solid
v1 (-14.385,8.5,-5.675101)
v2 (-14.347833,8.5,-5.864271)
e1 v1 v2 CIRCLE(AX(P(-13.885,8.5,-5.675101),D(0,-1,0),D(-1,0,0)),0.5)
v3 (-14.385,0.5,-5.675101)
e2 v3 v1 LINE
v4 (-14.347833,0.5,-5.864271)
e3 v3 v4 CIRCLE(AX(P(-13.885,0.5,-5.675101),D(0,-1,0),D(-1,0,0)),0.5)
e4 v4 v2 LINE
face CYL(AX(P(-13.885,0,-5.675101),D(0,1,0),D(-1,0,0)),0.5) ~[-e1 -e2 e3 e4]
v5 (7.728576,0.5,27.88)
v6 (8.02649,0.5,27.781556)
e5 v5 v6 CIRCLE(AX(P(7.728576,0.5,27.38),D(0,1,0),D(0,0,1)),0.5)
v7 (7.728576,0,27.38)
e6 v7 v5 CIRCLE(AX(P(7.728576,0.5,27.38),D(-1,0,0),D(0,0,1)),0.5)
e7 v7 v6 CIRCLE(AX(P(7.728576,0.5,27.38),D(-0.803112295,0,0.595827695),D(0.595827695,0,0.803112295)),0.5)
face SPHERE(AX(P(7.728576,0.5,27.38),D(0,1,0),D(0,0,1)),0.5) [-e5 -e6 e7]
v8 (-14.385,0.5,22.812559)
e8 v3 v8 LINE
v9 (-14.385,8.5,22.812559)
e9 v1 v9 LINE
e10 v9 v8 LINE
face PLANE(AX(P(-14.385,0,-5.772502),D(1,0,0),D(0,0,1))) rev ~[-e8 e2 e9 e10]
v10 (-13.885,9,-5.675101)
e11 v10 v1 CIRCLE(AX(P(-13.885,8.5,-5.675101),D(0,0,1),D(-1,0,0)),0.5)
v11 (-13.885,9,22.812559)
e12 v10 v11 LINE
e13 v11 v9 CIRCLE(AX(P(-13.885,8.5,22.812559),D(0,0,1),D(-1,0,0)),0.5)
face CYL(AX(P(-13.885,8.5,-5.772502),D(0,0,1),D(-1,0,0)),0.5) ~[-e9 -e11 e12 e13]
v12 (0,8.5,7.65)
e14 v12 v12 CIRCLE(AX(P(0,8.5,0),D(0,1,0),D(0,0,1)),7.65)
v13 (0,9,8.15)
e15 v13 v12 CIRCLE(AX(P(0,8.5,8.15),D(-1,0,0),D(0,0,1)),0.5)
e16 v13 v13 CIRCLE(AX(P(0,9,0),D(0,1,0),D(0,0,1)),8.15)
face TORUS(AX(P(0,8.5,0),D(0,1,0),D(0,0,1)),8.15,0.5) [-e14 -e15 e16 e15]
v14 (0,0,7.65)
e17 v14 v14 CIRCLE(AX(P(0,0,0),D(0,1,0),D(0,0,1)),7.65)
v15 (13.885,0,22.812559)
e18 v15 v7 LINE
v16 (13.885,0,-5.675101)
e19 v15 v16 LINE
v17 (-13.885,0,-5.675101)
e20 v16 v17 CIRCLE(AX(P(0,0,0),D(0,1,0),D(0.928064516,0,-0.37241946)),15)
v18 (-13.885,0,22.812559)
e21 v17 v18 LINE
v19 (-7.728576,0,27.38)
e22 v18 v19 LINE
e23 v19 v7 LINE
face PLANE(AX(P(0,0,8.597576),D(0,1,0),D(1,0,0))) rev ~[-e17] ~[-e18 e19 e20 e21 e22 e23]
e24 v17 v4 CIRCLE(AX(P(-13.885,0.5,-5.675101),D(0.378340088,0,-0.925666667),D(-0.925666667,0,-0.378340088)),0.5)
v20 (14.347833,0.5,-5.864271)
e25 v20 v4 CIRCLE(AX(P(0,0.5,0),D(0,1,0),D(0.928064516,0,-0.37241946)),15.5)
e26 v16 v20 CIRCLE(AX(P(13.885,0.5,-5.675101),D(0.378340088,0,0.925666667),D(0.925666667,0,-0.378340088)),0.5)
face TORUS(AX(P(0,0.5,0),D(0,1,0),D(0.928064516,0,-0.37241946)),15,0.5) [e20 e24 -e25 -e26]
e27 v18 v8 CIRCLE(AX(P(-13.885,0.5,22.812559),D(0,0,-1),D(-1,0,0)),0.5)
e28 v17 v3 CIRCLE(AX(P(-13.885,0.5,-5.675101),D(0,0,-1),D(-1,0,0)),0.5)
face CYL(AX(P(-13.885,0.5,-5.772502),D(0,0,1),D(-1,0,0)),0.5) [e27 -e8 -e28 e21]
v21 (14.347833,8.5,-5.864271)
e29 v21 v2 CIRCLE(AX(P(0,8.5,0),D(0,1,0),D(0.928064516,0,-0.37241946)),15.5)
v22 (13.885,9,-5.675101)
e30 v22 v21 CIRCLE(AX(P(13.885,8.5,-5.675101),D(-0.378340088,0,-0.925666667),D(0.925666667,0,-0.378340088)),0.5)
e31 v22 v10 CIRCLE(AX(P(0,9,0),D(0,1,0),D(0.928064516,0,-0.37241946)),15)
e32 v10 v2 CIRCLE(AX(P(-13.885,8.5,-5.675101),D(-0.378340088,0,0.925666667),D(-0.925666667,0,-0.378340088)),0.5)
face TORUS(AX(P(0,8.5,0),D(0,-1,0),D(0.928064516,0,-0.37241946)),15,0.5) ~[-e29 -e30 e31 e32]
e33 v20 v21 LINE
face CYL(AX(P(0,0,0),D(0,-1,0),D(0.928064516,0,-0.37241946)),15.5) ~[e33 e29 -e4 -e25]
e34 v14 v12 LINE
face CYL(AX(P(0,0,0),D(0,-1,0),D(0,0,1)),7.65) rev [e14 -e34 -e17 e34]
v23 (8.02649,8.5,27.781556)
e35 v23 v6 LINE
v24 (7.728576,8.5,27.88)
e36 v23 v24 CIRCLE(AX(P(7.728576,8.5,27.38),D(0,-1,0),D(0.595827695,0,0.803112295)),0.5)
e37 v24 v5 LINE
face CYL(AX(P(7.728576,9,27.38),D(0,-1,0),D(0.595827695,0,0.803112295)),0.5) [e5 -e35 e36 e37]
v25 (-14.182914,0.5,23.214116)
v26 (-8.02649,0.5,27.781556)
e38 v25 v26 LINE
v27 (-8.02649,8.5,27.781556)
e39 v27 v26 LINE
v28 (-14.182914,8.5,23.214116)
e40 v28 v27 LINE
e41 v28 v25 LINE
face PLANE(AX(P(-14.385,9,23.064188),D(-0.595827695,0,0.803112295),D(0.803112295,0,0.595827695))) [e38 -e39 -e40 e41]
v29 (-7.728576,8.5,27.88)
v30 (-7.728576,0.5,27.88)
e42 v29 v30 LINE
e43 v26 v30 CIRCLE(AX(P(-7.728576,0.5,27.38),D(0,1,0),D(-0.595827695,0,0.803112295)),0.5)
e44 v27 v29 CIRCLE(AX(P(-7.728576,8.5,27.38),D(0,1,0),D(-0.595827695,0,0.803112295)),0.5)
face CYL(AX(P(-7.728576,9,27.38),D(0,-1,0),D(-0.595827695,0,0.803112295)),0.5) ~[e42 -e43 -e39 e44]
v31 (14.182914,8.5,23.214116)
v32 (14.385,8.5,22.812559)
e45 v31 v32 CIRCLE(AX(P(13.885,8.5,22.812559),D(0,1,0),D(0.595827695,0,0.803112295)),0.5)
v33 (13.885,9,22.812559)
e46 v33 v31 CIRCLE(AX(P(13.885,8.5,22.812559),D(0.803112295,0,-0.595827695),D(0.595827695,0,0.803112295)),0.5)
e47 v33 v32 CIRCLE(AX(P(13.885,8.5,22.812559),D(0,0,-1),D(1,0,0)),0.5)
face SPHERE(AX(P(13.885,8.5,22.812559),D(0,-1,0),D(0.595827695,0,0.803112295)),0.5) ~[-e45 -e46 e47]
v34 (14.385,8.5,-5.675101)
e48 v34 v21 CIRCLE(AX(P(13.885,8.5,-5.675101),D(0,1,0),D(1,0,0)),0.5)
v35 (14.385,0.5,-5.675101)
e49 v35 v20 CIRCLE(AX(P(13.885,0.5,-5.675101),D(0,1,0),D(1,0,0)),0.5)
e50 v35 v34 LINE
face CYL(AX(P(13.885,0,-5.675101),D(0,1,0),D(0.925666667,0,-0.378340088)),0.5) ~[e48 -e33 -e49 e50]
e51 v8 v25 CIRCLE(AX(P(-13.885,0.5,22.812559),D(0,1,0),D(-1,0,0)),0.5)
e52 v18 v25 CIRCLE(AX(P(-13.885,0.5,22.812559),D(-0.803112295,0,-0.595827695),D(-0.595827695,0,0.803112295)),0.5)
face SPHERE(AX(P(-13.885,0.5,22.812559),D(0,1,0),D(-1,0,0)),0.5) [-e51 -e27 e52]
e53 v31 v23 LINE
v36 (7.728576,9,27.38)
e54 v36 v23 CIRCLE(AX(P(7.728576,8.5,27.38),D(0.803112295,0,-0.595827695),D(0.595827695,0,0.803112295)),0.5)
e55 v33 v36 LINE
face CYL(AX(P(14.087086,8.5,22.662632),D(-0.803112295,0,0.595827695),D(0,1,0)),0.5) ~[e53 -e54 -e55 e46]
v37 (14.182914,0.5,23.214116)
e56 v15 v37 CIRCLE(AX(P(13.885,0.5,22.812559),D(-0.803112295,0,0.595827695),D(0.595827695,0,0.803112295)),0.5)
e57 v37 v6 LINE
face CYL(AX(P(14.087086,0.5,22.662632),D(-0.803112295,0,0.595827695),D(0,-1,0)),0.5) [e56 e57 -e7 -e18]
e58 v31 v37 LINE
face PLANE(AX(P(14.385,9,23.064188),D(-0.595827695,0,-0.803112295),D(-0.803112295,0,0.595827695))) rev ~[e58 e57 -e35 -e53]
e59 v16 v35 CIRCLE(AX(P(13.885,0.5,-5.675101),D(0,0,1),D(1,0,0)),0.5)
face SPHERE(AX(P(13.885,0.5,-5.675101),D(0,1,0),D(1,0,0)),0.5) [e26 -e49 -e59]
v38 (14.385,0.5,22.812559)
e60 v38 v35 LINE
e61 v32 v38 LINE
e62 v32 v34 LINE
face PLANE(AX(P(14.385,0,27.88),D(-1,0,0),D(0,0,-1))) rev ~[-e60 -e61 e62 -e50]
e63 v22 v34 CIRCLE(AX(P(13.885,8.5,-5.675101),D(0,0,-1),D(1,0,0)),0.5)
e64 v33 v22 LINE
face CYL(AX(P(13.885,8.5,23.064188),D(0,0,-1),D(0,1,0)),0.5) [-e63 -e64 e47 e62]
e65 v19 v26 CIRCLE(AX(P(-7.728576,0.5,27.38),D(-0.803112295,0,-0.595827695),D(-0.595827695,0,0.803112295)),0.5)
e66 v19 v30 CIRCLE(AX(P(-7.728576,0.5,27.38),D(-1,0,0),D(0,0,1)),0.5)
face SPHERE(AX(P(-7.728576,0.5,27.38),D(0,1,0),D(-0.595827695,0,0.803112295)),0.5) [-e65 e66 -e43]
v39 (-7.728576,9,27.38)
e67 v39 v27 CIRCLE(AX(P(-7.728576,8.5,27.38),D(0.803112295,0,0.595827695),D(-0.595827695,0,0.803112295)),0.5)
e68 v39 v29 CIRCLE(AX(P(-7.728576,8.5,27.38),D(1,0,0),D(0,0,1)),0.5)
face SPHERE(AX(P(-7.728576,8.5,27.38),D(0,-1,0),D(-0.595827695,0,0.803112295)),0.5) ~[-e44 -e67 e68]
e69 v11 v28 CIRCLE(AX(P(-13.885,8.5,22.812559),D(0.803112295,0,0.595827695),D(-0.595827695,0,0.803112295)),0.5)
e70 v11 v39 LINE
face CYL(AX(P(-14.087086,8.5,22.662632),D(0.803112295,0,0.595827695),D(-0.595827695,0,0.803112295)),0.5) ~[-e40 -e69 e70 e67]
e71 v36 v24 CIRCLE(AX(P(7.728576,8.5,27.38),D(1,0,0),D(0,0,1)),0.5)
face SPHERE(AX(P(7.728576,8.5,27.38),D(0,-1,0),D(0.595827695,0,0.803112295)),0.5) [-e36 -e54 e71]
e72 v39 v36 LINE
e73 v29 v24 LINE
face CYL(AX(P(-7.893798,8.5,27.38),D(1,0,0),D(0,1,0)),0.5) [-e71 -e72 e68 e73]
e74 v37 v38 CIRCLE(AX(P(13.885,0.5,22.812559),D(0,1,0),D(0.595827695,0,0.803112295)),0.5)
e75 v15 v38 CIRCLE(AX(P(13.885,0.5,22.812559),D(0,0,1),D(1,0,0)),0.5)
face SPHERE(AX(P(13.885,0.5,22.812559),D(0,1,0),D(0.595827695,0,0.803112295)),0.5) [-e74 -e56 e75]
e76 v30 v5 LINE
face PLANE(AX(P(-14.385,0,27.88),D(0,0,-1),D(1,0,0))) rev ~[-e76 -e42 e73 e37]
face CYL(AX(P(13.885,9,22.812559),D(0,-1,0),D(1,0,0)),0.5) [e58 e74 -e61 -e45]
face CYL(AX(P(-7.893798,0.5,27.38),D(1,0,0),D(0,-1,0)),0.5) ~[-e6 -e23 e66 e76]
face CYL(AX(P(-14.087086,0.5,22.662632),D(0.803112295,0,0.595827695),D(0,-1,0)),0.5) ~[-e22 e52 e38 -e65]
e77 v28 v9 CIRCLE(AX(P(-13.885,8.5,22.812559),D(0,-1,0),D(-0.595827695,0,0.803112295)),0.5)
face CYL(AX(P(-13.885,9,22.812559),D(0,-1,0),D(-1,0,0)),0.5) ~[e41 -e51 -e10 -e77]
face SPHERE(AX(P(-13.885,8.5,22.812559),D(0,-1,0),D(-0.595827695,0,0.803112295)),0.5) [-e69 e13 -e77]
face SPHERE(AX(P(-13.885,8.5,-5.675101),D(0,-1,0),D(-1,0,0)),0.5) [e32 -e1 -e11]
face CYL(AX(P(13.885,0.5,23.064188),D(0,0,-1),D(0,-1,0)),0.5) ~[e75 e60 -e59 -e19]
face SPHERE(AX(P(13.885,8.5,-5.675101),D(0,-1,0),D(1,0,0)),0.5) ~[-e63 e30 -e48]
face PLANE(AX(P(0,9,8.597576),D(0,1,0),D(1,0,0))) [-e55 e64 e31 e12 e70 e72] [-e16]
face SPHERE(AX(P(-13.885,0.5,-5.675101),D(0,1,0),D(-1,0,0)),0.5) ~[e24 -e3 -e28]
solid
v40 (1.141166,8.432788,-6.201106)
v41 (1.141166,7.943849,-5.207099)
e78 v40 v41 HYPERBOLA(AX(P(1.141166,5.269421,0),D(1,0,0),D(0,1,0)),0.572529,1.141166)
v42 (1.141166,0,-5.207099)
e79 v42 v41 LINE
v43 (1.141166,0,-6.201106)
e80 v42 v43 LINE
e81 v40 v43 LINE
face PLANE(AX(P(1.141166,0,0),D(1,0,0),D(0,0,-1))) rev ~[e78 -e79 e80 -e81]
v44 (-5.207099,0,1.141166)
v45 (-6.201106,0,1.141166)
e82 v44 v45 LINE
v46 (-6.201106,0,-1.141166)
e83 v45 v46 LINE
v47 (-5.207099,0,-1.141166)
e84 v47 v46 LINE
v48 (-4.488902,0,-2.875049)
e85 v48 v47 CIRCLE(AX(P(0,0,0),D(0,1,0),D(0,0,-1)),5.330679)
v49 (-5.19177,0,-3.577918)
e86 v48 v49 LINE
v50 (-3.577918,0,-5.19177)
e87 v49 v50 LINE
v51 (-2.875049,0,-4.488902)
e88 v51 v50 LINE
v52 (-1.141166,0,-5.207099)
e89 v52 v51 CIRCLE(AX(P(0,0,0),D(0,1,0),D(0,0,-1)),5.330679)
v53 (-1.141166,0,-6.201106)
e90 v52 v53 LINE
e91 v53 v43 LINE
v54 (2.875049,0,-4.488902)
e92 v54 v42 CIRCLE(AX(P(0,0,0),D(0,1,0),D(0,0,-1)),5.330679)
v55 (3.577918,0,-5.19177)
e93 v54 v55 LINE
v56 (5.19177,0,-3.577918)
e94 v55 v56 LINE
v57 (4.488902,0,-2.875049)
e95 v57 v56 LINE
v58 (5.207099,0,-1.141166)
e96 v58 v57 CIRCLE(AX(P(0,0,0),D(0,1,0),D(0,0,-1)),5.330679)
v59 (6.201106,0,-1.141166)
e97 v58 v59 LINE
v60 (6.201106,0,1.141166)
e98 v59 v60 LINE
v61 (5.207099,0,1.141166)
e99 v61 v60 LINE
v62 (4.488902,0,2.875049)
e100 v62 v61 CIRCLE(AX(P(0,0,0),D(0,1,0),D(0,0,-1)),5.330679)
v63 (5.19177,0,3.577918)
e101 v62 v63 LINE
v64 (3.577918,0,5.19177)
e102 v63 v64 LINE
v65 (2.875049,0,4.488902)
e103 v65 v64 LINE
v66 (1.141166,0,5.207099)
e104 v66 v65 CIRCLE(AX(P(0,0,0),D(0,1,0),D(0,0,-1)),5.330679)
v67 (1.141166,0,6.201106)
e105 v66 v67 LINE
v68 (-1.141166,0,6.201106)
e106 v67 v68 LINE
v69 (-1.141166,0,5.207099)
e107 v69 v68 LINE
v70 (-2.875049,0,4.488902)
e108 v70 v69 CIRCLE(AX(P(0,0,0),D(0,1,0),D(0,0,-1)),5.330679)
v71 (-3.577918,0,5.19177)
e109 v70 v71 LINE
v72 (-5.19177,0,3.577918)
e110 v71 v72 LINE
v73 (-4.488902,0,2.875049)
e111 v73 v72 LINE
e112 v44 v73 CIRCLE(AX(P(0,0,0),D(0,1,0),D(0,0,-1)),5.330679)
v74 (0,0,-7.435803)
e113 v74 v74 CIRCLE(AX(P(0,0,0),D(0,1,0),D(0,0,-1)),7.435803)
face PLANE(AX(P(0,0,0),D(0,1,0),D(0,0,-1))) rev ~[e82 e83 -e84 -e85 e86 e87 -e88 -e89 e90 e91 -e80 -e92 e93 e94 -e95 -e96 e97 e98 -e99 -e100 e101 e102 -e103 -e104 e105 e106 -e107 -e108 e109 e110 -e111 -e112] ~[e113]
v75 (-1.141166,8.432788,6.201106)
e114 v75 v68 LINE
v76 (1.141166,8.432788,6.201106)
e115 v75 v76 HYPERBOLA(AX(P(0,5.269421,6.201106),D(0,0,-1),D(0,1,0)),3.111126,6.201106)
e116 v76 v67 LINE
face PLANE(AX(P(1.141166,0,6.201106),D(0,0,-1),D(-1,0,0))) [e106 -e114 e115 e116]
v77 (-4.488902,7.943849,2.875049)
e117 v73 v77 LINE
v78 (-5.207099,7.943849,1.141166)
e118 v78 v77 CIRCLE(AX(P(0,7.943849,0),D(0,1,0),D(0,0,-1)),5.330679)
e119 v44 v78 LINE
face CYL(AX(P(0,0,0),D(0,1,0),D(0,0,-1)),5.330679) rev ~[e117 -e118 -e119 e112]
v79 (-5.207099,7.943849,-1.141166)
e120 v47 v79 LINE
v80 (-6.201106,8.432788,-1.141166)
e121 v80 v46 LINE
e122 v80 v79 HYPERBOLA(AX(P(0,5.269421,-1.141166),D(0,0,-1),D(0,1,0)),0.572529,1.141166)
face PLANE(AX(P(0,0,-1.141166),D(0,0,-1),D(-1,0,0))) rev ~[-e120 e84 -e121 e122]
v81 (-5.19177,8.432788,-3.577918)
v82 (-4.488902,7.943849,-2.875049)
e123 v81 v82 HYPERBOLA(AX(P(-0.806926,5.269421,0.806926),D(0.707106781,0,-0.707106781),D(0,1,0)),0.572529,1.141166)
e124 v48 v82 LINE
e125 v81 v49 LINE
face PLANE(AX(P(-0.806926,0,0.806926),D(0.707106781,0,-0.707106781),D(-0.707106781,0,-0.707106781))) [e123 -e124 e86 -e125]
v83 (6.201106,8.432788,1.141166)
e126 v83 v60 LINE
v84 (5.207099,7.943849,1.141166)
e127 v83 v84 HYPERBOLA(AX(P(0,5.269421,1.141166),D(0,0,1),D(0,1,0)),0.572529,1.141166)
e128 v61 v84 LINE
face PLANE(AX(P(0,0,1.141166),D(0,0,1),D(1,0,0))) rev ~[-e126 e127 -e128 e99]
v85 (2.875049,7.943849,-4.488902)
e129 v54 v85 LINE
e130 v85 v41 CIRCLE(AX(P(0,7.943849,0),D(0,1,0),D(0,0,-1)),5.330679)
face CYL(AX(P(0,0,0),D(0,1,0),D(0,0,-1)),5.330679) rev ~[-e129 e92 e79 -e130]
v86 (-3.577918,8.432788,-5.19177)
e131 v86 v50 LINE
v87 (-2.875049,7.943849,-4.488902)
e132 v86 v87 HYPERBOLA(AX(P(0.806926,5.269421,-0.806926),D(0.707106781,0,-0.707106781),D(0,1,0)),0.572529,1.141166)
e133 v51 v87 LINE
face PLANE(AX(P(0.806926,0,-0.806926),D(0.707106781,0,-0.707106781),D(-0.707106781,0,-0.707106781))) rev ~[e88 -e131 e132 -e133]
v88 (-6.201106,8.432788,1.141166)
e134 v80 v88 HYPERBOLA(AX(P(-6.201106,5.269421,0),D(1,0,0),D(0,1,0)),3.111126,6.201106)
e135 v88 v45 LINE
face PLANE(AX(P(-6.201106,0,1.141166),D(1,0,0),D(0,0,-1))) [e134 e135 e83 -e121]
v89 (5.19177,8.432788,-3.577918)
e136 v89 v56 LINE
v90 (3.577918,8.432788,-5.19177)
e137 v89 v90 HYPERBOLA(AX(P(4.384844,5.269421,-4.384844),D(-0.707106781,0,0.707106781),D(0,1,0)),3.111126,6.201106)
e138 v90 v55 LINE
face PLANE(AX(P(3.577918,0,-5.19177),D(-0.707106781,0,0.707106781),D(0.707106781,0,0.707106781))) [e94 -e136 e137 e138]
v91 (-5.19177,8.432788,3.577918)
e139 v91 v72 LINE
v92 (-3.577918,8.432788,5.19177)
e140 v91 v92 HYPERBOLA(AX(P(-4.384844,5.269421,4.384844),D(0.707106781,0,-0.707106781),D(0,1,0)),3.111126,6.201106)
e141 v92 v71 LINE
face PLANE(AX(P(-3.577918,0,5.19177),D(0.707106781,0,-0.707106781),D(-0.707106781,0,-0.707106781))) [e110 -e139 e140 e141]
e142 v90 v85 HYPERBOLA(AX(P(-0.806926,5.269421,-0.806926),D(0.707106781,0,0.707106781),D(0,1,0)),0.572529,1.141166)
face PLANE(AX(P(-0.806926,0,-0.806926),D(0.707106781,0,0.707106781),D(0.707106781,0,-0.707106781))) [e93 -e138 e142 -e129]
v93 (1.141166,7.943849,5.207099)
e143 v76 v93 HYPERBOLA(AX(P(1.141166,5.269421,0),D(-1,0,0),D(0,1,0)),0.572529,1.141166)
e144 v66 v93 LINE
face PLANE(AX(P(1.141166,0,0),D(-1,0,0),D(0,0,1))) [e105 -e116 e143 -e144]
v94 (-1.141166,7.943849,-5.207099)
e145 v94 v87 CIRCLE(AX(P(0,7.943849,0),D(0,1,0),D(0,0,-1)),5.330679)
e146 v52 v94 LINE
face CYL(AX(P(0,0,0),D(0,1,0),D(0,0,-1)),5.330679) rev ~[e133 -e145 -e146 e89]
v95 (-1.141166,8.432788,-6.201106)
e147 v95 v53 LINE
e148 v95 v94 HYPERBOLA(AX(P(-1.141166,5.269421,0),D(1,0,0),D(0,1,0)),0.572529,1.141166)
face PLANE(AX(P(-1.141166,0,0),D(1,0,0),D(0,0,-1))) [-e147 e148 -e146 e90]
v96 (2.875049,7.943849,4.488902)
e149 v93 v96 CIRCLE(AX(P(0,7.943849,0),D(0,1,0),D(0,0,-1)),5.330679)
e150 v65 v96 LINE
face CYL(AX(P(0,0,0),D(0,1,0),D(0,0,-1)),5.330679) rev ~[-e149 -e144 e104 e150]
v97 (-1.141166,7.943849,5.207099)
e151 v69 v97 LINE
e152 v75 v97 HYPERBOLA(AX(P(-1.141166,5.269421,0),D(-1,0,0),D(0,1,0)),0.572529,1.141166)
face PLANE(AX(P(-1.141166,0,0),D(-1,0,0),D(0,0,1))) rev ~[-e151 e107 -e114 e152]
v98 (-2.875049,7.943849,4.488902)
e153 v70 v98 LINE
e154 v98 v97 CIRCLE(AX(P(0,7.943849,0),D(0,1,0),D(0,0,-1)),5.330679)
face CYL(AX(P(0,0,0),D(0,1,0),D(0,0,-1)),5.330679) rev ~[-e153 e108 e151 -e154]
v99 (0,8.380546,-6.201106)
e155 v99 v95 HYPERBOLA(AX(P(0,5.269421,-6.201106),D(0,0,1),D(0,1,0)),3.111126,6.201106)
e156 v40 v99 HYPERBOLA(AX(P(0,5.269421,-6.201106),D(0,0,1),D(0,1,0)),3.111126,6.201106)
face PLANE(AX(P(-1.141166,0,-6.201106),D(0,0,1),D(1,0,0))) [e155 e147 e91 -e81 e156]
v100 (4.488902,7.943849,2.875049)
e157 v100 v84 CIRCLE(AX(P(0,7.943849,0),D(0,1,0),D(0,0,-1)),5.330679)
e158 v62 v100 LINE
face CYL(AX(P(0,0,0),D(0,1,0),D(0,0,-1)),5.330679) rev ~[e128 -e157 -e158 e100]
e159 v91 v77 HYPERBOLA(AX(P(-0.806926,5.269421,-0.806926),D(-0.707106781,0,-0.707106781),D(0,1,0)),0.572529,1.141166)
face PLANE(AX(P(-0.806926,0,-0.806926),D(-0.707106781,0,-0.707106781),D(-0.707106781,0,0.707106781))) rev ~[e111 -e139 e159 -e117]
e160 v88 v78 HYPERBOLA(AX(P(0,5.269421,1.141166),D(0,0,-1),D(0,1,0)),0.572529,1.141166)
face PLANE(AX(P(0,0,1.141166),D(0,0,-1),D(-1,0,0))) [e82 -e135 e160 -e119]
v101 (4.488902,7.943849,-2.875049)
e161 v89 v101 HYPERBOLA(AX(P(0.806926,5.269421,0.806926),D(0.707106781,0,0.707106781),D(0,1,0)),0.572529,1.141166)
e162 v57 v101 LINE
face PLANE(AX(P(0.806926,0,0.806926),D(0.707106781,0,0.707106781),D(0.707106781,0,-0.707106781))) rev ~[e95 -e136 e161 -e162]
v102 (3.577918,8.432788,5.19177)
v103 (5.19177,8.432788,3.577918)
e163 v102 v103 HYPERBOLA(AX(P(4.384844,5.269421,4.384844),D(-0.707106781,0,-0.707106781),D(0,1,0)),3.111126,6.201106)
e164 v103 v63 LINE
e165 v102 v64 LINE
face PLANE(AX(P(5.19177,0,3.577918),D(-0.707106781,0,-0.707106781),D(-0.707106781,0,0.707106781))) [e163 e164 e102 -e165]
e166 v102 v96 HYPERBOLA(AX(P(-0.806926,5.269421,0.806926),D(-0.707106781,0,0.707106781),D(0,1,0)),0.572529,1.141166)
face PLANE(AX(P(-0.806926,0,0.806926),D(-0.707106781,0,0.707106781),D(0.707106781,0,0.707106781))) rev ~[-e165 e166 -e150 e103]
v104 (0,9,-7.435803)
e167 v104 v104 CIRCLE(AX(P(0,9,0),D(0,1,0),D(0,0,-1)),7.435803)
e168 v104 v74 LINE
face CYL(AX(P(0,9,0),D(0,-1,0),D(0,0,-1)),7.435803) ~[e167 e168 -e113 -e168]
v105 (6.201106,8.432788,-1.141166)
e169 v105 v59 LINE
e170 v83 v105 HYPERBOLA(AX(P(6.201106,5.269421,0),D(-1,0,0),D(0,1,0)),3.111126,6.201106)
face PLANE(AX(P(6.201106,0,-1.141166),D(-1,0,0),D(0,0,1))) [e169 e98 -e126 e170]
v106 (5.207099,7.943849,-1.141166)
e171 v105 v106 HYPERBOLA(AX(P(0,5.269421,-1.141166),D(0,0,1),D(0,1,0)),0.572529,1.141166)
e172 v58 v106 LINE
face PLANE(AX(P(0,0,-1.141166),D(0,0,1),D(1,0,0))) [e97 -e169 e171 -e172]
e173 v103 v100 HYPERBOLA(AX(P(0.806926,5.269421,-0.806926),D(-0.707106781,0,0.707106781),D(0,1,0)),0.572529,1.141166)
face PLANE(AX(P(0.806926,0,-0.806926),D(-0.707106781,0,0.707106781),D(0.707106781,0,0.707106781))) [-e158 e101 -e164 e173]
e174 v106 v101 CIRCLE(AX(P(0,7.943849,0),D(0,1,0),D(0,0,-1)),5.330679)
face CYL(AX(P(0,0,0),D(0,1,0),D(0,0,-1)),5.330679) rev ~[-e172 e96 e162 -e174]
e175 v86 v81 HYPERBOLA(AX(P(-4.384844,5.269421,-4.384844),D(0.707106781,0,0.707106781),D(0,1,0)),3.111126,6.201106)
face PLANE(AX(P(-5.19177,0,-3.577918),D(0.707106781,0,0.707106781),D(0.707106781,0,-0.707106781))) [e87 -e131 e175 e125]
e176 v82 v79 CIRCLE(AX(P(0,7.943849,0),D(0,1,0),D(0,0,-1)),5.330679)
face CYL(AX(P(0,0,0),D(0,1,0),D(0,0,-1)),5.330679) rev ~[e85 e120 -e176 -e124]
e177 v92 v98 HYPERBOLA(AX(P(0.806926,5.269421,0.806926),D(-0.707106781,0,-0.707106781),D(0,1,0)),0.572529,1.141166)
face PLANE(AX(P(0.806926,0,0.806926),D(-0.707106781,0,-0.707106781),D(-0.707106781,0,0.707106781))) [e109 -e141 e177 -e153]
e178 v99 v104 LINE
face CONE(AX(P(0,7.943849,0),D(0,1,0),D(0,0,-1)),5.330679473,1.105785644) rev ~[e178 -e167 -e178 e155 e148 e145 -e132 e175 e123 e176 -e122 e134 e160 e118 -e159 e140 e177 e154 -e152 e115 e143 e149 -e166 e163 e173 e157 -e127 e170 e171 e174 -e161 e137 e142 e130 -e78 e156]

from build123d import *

# Parameters (mm, degrees)
SKETCH1_R           = 7.65
BOSS_EXTRUDE1_DEPTH = 9
CUT_EXTRUDE1_DEPTH  = 9
SKETCH7_W           = 2.28233216
SKETCH7_H           = 6.201106096
CUT_EXTRUDE2_DEPTH  = 33.637748467
CIRPATTERN1_COUNT   = 8
FILLET1_R           = 0.5


with BuildPart() as part:
    # Sketch1 → Boss-Extrude1 (new body)
    with BuildSketch(Plane(origin=(0, 0, 0), x_dir=(1, 0, 0), z_dir=(0, 1, 0))):
        with BuildLine():
            Line((-14.385, 5.772501624), (-14.385, -27.88))
            Line((-14.385, -27.88), (14.385, -27.88))
            Line((14.385, -27.88), (14.385, 5.772501624))
            ThreePointArc((14.385, 5.772501624), (0, 15.5), (-14.385, 5.772501624))
        make_face()
        Circle(SKETCH1_R, mode=Mode.SUBTRACT)
    extrude(amount=BOSS_EXTRUDE1_DEPTH)

    # Sketch3 → Cut-Extrude1 (cut)
    with BuildSketch(Plane(origin=(0, 9, 0), x_dir=(1, 0, 0), z_dir=(0, 1, 0))):
        Polygon((14.385, -23.064188118), (7.893798328, -27.88), (14.385, -27.88), align=None)
        Polygon((-14.385, -27.88), (-14.385, -23.064188118), (-7.893798328, -27.88), align=None)
    extrude(amount=-CUT_EXTRUDE1_DEPTH, mode=Mode.SUBTRACT)

    # Fillet1
    fillet1_edges = [part.edges().sort_by_distance(p)[0] for p in [
        (0, 9, -15.5),
        (0, 0, -15.5),
        (14.385, 4.5, -5.772501624),
        (14.385, 0, 8.645843247),
        (14.385, 9, 8.645843247),
        (14.385, 4.5, 23.064188118),
        (11.139399164, 0, 25.472094059),
        (11.139399164, 9, 25.472094059),
        (7.893798328, 4.5, 27.88),
        (0, 0, 27.88),
        (0, 9, 27.88),
        (-14.385, 4.5, -5.772501624),
        (-14.385, 9, 8.645843247),
        (-14.385, 0, 8.645843247),
        (-7.893798328, 4.5, 27.88),
        (-11.139399164, 0, 25.472094059),
        (-14.385, 4.5, 23.064188118),
        (-11.139399164, 9, 25.472094059),
        (-7.65, 9, 0),
    ]]
    fillet(fillet1_edges, radius=FILLET1_R)


with BuildPart() as body_2:
    # Sketch6 → Revolve1 (revolve)
    with BuildSketch(Plane(origin=(0, 0, 0), x_dir=(0, 0, -1), z_dir=(1, 0, 0))):
        Polygon((-7.435802811, 9), (-7.435802811, 0), (-5.330679473, 0), (-5.330679473, 7.943849085), align=None)
    revolve(axis=Axis((0, 0, 0), (0, 1, 0)))

    # Sketch7 → Cut-Extrude2 (cut, symmetric)
    with BuildSketch(Plane(origin=(0, 0, 0), x_dir=(1, 0, 0), z_dir=(0, 1, 0))):
        with Locations((0, 3.100553048)):
            Rectangle(SKETCH7_W, SKETCH7_H)
    cut_extrude2 = extrude(amount=CUT_EXTRUDE2_DEPTH, both=True, mode=Mode.SUBTRACT)

    # CirPattern1: Cut-Extrude2 ×8 about axis
    cirpattern1_axis = Axis((0, 9.45, 0), (0, -1, 0))
    for i in range(1, CIRPATTERN1_COUNT):
        add(cut_extrude2.rotate(cirpattern1_axis, i * 360 / CIRPATTERN1_COUNT), mode=Mode.SUBTRACT)


solid = Compound([part.part, body_2.part])
